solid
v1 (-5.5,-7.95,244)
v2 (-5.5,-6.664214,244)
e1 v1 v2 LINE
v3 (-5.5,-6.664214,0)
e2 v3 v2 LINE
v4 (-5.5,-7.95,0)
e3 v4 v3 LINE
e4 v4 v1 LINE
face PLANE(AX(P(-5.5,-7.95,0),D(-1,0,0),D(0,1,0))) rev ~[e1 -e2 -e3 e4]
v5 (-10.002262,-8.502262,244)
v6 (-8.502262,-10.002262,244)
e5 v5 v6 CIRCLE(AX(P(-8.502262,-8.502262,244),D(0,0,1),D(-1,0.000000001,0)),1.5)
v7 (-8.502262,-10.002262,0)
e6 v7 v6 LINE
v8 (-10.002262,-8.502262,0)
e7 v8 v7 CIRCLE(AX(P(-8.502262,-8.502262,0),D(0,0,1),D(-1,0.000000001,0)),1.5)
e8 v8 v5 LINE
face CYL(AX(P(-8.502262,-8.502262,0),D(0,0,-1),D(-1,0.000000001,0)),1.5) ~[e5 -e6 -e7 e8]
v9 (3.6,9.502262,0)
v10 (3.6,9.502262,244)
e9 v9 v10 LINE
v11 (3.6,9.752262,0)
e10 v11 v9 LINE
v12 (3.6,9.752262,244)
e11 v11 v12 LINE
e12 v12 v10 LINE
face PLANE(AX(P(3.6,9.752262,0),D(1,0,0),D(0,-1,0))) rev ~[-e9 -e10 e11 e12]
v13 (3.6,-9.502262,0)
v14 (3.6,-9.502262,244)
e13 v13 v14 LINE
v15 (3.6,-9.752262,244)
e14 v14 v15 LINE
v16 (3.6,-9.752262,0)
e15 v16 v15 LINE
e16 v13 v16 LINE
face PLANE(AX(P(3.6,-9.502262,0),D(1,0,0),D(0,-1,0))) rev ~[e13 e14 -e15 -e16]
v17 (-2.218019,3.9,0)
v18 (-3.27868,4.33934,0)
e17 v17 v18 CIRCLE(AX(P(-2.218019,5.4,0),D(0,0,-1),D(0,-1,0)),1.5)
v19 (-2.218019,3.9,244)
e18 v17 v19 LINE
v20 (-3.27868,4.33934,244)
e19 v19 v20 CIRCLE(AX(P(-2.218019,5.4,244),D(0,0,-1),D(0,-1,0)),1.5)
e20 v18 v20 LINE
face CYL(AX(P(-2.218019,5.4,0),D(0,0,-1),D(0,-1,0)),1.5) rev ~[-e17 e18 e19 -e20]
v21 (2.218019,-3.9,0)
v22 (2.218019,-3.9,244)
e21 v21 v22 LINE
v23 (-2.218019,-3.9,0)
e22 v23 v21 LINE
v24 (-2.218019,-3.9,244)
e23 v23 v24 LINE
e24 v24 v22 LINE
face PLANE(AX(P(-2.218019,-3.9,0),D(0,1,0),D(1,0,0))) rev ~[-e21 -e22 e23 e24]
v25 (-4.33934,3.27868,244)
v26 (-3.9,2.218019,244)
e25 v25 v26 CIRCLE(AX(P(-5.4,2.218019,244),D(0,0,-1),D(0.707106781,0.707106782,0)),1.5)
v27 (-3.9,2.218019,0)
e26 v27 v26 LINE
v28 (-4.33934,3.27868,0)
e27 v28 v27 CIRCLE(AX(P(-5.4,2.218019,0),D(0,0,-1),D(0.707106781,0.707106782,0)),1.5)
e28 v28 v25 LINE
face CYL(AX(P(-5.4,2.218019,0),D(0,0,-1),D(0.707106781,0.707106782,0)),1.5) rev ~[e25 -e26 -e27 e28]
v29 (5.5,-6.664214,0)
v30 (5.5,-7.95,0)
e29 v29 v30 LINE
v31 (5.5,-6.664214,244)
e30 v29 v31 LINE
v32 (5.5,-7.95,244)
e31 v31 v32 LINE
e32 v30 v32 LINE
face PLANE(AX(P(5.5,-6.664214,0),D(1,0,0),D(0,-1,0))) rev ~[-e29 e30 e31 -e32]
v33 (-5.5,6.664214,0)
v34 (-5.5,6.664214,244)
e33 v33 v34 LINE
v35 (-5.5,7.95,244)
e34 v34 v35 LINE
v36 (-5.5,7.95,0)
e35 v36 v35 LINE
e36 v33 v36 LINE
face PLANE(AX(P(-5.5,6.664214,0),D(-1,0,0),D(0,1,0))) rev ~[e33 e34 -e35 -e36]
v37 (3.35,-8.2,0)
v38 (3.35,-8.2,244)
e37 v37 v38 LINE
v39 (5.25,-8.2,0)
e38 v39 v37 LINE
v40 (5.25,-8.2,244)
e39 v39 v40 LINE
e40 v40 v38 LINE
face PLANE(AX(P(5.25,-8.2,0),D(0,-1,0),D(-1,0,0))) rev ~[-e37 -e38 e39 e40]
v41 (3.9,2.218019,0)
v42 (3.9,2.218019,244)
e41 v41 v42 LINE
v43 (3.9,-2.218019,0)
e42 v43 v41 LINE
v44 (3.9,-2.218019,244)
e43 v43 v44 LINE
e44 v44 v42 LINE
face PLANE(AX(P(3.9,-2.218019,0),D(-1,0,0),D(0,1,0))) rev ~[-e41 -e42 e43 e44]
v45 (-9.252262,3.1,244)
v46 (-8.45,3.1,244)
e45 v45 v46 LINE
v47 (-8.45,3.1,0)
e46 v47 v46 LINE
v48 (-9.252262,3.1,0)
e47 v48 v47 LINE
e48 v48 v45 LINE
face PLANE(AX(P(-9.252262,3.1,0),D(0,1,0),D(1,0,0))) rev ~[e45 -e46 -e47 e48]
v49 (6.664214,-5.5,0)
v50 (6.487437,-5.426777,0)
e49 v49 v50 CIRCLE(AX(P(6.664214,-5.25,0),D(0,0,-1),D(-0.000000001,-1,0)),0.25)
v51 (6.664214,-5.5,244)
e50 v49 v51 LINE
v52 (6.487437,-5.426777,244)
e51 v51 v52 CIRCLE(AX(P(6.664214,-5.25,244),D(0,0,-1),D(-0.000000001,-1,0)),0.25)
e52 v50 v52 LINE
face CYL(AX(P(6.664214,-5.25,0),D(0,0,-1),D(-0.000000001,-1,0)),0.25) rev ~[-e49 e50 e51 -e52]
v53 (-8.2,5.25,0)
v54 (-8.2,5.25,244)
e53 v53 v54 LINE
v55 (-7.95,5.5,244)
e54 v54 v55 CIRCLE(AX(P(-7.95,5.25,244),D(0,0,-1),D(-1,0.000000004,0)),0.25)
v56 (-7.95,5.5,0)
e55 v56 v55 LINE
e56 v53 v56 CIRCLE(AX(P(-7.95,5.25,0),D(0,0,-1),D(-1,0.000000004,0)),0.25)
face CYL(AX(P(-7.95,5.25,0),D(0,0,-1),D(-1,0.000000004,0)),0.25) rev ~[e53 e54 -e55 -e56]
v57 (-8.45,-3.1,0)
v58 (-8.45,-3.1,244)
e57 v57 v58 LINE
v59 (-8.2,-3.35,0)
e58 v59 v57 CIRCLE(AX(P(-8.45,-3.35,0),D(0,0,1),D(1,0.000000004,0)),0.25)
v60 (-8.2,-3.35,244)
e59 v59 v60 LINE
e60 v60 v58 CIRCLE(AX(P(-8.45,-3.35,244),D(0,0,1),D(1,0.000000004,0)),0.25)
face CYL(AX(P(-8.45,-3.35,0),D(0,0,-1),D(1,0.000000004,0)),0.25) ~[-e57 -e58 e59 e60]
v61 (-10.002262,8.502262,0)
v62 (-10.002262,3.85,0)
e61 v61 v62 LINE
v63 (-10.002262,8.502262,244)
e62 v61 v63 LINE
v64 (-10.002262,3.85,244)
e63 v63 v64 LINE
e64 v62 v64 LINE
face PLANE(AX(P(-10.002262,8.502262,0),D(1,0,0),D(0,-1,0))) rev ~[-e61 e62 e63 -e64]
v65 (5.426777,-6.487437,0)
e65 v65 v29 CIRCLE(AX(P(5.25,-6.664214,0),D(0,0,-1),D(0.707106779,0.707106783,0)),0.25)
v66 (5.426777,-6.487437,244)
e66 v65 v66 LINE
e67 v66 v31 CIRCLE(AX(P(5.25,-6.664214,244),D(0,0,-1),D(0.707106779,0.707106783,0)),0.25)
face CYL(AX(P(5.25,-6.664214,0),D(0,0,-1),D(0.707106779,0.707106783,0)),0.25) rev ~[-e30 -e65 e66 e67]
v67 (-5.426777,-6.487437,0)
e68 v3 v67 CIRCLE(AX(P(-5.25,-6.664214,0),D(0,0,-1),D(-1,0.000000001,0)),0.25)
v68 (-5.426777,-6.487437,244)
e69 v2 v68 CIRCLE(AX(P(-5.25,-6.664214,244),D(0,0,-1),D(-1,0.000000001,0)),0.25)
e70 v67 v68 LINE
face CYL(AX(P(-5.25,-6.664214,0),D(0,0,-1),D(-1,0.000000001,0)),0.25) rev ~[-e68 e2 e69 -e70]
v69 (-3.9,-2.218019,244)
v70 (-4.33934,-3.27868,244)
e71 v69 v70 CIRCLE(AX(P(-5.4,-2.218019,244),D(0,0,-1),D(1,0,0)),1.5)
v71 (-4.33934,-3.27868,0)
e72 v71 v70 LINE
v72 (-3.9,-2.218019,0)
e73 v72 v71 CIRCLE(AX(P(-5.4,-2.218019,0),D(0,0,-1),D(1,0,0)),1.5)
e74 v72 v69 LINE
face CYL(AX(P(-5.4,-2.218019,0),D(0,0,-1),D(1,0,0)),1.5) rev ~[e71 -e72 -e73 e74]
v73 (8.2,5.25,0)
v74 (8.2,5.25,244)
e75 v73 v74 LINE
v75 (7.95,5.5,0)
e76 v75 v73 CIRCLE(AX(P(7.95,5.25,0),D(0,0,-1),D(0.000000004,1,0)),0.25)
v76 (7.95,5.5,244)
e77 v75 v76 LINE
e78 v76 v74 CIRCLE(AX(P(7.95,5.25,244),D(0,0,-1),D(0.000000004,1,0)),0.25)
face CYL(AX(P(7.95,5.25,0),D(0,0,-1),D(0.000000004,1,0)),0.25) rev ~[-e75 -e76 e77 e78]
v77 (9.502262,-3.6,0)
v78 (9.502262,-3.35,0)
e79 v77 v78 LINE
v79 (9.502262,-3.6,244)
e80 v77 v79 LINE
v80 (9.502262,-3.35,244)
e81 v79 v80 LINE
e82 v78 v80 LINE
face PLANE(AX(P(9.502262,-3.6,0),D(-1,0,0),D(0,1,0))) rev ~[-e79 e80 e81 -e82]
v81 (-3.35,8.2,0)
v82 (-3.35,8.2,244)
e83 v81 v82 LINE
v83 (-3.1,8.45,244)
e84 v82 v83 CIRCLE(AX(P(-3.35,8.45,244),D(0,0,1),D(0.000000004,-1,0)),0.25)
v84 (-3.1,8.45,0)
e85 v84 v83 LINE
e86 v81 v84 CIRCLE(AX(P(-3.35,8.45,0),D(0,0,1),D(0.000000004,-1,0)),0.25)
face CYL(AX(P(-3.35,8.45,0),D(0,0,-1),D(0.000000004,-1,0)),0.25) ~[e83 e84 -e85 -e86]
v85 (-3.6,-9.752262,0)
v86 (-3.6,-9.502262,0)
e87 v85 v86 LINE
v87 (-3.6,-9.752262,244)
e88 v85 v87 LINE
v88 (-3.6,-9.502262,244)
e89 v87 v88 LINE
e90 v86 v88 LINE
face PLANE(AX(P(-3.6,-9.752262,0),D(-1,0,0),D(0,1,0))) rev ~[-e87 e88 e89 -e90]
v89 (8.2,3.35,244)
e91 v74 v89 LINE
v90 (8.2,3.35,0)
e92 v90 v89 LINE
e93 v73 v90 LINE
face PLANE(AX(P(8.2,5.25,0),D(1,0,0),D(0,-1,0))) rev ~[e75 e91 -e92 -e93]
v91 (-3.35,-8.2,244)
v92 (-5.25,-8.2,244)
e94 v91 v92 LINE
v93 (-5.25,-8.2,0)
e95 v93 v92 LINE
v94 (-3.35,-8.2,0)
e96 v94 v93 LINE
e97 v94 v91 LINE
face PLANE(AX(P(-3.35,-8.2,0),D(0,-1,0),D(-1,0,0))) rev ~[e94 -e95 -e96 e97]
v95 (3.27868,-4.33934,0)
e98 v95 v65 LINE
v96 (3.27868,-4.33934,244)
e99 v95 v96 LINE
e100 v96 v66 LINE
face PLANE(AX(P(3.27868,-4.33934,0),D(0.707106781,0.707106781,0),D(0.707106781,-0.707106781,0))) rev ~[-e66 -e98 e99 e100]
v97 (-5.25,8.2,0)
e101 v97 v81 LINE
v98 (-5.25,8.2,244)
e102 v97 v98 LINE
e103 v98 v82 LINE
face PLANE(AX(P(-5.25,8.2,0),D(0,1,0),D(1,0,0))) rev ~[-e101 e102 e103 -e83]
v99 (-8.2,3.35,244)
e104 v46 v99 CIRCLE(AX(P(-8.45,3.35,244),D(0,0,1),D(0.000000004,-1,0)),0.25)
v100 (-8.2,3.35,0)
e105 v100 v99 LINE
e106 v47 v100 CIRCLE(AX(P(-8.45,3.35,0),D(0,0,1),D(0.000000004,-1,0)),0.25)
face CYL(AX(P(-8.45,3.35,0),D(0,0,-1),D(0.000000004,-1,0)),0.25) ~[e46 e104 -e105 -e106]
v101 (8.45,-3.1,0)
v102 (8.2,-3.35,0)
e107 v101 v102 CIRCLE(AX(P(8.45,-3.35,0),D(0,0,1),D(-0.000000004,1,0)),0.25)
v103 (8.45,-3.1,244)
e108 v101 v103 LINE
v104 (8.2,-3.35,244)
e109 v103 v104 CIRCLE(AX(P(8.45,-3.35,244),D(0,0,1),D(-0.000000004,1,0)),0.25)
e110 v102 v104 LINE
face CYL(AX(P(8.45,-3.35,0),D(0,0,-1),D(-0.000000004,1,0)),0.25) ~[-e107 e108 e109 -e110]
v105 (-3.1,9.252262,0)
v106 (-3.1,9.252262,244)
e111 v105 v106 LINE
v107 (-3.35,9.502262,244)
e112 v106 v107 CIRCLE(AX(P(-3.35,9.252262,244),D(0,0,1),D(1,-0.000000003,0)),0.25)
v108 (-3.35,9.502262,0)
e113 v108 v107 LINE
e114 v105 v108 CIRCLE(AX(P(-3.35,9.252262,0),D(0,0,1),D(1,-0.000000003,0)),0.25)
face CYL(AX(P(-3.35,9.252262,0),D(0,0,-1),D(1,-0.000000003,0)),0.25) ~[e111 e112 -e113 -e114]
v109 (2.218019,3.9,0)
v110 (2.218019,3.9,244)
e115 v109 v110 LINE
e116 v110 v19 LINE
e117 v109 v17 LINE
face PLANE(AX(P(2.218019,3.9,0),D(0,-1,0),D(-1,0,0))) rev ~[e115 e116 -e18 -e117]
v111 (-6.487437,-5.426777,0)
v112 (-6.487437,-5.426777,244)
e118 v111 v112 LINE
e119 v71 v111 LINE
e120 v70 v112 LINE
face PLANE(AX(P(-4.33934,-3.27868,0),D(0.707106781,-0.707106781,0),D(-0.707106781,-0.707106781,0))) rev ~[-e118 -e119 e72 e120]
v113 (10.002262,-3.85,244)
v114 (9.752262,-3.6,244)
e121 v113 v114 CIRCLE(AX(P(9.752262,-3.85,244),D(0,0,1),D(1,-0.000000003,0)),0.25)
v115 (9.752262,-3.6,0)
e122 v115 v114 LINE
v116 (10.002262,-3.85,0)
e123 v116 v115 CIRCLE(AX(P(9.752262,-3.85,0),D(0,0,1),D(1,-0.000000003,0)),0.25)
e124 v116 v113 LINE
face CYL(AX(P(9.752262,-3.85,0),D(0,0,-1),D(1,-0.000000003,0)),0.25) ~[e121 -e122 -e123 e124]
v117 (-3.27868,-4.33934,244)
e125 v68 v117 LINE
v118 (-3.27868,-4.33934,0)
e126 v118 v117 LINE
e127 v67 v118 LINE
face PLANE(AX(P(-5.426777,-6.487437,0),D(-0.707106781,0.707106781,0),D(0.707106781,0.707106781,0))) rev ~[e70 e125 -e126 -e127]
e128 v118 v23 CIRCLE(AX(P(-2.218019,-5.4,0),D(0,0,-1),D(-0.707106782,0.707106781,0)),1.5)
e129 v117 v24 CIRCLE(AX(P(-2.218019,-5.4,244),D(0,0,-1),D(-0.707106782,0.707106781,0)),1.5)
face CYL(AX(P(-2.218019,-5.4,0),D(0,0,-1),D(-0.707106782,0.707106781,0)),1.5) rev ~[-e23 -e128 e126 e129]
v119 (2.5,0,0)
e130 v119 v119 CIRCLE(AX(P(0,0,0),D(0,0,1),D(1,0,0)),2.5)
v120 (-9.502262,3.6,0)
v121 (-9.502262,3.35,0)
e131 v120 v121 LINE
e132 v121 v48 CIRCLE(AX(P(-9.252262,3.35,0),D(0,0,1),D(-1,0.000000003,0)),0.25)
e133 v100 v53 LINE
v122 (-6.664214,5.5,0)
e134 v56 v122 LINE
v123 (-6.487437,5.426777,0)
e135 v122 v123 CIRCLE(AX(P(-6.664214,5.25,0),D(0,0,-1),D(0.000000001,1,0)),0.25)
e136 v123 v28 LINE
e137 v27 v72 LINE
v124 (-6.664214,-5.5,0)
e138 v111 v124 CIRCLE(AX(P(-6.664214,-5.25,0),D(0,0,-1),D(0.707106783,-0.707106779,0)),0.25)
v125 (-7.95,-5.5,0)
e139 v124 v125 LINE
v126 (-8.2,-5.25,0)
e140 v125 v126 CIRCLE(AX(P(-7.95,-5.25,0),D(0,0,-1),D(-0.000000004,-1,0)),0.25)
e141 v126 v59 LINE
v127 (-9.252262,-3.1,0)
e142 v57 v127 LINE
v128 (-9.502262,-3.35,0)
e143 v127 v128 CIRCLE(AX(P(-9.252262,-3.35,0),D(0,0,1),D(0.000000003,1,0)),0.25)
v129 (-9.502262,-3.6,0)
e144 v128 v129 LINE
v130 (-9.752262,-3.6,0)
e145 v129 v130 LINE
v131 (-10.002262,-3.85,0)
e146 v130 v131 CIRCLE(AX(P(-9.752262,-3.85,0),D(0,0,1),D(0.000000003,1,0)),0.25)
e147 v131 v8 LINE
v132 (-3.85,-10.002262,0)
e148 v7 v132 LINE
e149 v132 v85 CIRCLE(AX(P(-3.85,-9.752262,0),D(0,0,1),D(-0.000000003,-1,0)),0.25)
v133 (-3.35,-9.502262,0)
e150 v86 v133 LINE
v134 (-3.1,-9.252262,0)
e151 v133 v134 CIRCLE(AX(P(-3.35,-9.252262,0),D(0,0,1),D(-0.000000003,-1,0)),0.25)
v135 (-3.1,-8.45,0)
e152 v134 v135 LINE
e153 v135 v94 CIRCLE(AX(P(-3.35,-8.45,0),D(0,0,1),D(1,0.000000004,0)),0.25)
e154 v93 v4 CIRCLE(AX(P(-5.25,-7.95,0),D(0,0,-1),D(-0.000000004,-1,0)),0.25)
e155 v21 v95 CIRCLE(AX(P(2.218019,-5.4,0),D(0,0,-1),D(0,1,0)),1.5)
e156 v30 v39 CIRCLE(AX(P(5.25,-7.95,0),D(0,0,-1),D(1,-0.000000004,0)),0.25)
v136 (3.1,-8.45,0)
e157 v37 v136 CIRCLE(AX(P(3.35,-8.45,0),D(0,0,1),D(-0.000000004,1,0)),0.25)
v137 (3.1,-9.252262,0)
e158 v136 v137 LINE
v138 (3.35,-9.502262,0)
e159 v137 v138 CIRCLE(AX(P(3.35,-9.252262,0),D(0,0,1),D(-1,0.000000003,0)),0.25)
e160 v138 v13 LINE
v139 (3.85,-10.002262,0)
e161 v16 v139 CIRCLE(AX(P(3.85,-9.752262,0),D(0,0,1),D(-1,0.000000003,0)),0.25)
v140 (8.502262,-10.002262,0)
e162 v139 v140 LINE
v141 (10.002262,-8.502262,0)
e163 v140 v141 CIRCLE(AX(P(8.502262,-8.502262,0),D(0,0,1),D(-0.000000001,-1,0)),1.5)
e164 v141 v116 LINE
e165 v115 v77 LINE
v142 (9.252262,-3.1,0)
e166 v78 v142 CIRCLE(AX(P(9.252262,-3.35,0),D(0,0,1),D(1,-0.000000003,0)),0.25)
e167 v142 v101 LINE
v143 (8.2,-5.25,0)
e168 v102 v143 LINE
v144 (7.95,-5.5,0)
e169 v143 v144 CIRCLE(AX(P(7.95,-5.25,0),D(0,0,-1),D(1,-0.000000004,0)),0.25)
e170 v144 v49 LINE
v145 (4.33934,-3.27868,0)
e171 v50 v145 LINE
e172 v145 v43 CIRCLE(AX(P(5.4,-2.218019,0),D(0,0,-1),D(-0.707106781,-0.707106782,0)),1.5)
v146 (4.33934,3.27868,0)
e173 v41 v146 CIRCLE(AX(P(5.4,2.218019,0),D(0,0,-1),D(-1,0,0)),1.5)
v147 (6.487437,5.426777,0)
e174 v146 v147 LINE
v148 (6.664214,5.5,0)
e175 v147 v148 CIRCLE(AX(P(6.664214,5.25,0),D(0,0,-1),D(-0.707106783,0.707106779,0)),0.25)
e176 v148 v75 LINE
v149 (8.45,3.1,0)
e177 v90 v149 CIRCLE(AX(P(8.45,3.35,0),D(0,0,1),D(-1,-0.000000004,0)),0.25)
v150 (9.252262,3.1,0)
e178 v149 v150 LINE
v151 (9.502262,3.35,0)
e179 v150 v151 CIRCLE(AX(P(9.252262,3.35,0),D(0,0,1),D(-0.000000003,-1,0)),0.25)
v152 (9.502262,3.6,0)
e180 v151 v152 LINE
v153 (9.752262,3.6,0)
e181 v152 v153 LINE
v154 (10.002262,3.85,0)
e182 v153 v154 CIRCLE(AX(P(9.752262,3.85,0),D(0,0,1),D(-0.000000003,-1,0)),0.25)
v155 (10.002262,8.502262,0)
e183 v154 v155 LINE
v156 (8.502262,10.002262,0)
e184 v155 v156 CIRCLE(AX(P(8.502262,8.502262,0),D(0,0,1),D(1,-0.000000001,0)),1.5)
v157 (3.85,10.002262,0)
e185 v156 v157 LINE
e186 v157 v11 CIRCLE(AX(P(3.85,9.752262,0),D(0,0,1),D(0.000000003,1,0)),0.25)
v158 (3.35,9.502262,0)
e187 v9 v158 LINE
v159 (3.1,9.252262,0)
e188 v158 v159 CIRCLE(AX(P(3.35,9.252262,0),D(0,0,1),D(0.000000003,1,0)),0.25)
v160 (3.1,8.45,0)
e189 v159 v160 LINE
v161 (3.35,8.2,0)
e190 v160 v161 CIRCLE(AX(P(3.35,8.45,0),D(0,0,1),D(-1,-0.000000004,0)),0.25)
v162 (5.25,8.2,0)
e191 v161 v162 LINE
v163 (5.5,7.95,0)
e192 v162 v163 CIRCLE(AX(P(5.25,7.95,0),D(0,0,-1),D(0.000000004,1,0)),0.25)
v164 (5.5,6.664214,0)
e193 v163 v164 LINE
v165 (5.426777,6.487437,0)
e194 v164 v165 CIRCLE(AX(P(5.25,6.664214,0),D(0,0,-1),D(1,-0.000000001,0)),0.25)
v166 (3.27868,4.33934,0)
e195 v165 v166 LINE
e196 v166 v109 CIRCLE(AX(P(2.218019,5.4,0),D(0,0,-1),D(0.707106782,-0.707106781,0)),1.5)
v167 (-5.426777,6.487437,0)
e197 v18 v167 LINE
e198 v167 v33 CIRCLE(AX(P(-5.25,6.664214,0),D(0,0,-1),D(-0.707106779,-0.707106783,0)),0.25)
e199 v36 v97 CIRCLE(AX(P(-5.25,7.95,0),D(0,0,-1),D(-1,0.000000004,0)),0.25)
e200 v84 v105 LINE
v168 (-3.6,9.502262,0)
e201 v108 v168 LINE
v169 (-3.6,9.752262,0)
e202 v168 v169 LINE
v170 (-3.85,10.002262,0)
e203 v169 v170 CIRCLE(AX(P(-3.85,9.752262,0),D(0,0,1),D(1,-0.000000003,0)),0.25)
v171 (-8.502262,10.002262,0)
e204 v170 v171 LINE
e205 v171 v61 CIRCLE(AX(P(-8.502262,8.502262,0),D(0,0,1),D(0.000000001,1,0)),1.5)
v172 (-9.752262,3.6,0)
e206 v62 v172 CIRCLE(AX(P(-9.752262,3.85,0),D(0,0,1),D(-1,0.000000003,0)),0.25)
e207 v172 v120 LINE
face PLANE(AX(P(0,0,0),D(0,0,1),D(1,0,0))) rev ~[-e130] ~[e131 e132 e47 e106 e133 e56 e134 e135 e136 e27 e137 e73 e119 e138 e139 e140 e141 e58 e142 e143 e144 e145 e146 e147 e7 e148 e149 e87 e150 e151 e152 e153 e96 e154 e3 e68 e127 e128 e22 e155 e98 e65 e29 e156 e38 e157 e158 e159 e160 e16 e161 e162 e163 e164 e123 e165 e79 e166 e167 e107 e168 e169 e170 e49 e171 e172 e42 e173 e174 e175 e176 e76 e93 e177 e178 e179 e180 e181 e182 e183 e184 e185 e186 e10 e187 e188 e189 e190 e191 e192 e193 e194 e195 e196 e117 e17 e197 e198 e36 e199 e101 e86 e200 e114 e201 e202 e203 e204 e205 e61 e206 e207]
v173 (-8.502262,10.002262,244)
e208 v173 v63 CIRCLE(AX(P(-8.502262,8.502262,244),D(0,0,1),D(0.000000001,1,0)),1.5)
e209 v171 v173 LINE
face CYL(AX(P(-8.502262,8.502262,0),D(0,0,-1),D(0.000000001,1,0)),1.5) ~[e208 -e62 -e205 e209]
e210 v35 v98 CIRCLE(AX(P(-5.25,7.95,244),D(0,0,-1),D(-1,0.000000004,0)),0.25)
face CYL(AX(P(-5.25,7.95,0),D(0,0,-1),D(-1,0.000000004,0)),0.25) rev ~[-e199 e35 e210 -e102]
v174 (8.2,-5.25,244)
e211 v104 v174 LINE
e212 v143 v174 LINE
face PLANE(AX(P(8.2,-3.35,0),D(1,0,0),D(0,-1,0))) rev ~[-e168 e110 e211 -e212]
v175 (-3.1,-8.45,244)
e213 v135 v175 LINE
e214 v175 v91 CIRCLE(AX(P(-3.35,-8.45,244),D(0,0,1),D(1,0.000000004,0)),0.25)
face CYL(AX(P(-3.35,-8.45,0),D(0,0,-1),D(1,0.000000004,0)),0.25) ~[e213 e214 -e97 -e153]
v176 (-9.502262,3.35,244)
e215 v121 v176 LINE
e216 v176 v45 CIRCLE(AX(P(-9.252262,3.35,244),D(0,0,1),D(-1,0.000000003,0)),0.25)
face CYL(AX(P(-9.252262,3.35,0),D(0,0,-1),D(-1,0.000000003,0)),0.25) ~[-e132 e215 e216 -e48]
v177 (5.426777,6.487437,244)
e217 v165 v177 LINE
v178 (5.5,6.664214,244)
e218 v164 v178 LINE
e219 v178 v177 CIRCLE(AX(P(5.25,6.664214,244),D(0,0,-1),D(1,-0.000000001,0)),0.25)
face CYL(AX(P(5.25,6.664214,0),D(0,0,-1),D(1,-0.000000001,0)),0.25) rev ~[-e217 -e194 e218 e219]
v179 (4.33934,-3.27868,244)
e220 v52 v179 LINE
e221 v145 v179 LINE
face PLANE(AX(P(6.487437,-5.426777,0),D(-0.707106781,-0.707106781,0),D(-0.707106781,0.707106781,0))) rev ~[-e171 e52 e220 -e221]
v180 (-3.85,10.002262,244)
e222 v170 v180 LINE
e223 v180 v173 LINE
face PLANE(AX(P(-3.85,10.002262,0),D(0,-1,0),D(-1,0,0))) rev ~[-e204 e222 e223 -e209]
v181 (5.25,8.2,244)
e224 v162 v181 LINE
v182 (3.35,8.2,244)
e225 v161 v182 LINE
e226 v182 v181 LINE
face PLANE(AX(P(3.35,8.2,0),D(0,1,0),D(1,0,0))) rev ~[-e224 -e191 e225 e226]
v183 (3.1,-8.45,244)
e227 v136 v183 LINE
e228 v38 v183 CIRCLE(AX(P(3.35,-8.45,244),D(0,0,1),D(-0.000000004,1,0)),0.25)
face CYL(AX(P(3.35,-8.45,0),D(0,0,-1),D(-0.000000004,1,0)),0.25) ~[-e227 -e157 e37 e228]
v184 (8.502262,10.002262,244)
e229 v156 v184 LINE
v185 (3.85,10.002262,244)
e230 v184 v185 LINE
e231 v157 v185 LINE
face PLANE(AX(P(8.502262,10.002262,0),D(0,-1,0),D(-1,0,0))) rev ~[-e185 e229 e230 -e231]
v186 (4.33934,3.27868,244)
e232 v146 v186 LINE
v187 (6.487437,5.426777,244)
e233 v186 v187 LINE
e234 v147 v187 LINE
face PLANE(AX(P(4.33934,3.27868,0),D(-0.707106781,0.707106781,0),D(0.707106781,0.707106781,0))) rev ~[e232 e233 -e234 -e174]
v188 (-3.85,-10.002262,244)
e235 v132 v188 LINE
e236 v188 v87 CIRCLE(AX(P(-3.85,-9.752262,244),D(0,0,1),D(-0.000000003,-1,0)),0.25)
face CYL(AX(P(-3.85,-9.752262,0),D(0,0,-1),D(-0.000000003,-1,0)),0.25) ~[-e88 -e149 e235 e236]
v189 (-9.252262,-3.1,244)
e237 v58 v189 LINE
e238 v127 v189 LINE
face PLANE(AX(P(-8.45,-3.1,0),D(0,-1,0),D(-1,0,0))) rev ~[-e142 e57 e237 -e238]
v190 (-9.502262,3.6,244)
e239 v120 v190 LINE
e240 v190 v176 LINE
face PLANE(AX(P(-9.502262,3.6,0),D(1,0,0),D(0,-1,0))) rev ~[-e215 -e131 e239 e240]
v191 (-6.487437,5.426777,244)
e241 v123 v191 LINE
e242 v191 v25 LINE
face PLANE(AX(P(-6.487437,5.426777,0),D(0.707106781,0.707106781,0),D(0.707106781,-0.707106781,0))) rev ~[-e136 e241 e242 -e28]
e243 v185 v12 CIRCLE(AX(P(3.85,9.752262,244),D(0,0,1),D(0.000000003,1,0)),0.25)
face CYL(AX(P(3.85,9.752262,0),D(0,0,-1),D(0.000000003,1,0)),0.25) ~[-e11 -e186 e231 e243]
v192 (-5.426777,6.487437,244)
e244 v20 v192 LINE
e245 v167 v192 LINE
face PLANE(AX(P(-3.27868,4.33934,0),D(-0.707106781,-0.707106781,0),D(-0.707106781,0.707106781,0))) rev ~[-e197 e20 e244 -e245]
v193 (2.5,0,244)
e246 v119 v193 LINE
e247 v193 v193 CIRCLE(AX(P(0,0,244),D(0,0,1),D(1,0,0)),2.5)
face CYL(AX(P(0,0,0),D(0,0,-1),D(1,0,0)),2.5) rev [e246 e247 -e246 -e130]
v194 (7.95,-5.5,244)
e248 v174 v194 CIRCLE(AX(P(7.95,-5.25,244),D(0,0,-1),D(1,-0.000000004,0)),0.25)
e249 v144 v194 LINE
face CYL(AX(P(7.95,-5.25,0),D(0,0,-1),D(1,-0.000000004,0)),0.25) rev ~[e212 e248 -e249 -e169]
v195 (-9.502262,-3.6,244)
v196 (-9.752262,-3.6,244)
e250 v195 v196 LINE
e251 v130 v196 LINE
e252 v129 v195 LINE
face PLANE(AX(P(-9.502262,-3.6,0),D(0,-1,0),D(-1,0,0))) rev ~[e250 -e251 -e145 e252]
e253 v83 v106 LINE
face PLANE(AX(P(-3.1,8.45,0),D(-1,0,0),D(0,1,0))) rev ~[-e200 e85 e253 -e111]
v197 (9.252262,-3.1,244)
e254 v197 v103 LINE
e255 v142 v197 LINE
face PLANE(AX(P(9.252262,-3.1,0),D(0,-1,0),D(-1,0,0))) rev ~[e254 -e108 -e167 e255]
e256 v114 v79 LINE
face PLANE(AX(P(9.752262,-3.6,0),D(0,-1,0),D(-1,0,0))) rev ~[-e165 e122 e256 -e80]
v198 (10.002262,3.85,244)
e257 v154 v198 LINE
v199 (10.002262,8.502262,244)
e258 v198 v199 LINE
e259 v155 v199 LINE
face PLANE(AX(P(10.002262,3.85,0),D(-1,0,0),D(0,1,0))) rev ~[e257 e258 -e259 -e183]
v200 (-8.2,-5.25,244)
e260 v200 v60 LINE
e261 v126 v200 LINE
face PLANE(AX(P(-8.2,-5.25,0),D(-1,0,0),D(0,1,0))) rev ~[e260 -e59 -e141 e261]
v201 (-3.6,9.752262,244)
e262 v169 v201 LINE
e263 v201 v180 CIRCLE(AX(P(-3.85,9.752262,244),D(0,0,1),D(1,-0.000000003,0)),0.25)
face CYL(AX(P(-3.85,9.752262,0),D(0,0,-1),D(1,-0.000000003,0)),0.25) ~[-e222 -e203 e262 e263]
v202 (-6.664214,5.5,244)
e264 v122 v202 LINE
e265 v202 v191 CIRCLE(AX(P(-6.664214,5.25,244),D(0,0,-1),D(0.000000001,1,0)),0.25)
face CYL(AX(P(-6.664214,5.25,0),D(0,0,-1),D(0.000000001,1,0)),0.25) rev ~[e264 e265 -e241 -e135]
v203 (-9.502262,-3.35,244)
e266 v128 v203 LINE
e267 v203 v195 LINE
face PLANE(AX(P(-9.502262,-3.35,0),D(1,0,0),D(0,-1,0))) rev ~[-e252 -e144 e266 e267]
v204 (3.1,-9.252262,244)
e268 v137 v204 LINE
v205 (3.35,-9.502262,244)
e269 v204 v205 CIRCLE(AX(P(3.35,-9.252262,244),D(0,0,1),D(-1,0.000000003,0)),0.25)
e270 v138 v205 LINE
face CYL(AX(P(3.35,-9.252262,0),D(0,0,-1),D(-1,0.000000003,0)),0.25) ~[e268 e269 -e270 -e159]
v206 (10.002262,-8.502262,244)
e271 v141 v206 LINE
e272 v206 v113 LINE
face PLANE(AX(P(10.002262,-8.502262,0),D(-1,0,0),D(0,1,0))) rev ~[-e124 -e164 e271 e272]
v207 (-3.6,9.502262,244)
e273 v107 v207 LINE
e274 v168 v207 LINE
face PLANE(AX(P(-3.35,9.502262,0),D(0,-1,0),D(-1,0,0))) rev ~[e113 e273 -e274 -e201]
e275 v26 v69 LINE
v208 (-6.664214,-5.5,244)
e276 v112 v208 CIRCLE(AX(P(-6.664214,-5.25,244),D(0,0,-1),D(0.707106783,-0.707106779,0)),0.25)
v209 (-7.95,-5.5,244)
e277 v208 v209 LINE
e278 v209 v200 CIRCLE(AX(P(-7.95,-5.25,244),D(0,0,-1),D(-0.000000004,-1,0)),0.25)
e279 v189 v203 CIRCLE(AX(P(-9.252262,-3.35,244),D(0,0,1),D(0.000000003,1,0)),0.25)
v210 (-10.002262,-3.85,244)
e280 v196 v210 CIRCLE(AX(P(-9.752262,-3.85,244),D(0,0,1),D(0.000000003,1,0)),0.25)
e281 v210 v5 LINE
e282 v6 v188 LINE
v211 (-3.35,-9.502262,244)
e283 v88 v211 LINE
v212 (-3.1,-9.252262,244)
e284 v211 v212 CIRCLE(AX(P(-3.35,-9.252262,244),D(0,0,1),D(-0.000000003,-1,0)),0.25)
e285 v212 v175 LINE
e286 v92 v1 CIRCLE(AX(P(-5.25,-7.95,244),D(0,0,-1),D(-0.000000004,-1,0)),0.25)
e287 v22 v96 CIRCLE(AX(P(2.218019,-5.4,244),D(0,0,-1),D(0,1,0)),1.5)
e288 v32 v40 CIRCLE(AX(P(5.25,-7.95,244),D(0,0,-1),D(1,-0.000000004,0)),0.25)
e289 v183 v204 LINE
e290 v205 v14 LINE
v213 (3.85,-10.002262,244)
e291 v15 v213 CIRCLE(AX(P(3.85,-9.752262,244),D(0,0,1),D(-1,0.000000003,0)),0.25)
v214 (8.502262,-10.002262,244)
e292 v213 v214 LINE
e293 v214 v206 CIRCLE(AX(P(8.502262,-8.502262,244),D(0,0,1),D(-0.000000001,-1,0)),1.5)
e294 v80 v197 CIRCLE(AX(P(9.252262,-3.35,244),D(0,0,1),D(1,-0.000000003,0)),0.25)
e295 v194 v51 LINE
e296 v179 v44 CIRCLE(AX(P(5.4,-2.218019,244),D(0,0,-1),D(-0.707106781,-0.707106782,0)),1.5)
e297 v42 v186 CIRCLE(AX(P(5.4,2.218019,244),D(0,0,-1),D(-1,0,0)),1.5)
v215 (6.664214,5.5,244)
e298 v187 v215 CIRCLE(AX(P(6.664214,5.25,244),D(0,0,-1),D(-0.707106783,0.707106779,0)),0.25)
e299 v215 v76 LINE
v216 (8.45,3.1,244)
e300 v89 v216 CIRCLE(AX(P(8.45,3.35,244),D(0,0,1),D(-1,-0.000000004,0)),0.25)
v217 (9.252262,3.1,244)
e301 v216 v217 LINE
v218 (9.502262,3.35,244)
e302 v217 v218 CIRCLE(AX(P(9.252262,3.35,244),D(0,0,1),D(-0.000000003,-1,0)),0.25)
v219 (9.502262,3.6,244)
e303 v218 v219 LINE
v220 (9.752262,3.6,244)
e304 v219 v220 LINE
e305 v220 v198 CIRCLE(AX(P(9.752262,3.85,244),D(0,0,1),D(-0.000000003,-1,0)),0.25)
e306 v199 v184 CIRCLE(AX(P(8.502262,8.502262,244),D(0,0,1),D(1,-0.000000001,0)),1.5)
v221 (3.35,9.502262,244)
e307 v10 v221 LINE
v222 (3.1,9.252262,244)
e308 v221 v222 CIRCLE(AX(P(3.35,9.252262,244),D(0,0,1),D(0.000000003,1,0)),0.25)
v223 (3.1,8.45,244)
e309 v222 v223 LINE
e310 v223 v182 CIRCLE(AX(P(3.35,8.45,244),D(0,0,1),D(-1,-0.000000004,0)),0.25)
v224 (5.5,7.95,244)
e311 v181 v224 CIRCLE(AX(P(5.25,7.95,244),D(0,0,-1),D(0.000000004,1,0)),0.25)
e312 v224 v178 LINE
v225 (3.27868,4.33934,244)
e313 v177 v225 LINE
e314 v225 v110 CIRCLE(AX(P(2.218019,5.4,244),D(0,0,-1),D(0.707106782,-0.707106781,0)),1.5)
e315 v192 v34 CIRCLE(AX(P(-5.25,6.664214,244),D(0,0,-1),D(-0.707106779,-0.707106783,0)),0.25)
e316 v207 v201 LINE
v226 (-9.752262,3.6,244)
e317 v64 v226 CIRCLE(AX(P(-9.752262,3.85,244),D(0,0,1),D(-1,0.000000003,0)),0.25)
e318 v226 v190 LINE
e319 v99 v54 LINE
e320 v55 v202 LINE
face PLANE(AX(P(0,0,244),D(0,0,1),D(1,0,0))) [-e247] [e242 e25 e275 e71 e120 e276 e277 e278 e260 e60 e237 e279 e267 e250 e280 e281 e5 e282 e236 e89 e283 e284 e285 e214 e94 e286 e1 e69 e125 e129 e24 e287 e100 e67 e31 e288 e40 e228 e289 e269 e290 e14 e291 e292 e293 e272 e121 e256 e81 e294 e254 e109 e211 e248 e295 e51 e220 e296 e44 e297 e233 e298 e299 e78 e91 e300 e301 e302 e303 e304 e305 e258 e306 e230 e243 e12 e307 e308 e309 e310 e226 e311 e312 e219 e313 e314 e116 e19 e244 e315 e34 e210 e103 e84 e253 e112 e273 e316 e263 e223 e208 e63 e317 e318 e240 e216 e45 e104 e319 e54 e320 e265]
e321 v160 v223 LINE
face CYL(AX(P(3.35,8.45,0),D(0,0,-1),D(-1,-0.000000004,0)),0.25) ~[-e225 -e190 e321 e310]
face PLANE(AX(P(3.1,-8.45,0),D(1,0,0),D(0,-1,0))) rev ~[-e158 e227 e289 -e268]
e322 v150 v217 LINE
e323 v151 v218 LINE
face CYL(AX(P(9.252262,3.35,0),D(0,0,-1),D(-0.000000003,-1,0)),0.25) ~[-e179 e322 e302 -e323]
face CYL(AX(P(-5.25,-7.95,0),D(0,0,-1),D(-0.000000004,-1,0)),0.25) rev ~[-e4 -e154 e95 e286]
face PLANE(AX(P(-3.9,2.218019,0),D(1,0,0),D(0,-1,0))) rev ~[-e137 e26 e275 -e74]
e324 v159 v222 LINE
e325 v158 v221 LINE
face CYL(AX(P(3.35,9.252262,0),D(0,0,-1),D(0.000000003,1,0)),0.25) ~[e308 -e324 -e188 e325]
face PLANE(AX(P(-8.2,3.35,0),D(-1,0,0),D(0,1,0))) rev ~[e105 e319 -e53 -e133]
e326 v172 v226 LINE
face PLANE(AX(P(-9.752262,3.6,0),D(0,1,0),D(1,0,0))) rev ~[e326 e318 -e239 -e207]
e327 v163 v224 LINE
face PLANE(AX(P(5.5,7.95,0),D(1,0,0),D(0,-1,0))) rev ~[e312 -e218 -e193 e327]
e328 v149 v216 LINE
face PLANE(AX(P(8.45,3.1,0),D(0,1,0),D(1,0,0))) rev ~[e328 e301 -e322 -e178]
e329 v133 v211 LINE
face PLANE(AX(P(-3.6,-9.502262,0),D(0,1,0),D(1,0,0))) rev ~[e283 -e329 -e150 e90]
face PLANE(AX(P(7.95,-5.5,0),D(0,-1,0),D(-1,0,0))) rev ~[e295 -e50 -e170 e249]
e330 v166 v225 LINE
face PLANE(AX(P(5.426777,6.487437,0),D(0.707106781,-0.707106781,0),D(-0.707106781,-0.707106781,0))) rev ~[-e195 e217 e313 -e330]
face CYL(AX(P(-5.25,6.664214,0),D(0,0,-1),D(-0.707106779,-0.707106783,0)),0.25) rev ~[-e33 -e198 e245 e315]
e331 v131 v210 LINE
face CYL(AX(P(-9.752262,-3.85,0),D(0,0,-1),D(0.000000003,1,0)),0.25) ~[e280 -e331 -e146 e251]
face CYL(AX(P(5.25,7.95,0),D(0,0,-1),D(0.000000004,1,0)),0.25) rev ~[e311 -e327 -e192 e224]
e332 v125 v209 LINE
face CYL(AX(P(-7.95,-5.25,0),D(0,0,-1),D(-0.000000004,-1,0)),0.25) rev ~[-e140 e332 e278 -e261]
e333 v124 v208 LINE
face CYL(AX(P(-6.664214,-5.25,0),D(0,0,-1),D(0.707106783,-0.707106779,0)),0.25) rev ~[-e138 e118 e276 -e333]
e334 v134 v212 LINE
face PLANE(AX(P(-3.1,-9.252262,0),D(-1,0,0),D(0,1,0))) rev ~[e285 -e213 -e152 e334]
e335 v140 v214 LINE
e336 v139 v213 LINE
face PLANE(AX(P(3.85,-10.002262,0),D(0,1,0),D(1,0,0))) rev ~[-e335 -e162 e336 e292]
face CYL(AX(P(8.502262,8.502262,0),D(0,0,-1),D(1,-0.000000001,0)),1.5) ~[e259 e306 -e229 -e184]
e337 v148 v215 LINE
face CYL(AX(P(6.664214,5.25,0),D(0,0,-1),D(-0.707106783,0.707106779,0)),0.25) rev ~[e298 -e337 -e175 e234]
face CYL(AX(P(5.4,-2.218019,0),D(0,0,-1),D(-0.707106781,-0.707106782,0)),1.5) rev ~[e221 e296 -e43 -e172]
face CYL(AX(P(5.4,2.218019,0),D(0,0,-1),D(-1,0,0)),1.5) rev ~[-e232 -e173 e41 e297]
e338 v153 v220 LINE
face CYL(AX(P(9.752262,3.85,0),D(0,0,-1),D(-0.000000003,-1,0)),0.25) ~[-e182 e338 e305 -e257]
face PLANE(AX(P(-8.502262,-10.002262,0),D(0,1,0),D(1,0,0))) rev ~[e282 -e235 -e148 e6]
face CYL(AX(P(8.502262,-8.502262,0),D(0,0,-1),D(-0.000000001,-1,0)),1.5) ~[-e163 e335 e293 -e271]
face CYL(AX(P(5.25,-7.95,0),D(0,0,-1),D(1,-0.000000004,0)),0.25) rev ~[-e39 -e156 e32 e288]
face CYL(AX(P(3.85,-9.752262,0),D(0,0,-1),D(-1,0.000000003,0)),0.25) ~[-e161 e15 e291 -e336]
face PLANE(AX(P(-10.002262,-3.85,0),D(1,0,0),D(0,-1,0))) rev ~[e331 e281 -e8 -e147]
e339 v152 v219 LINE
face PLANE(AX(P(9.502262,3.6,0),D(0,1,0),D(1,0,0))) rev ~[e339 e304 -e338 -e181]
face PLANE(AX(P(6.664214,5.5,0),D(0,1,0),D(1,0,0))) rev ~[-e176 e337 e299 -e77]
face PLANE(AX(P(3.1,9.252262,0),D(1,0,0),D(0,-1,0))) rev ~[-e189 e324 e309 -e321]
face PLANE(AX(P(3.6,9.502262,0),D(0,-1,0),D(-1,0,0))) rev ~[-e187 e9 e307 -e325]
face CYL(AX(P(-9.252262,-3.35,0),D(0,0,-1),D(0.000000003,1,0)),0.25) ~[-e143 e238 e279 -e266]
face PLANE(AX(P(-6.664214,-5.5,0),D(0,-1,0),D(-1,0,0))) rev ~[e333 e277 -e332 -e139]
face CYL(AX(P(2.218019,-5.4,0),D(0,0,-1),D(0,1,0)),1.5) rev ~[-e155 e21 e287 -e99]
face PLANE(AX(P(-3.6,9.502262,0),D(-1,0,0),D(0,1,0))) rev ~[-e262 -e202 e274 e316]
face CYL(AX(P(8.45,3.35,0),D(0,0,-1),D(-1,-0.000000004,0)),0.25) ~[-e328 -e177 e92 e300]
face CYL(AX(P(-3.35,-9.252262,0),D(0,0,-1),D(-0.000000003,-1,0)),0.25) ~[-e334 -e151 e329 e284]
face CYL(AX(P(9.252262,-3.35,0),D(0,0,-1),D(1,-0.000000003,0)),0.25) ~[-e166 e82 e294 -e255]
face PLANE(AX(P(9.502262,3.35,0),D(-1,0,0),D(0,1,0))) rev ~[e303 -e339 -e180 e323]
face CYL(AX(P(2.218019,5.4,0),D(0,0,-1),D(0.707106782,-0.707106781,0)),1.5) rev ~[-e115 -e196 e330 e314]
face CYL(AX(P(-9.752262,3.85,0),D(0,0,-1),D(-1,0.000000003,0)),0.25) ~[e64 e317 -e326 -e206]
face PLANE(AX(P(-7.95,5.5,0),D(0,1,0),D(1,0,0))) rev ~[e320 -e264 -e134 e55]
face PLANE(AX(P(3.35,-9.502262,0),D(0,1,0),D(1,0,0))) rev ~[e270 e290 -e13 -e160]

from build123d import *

# Parameters (mm, degrees)
SKETCH_1_R      = 2.5
EXTRUDE_1_DEPTH = 244


with BuildPart() as part:
    # 草图1 → 凸台-拉伸1 (new body)
    with BuildSketch(Plane.XY):
        with BuildLine():
            Line((-8.502261885, -10.002261885), (-3.85, -10.002261885))
            ThreePointArc((-3.85, -10.002261885), (-3.673223305, -9.929038581), (-3.6, -9.752261885))
            Line((-3.6, -9.752261885), (-3.6, -9.502261885))
            Line((-3.6, -9.502261885), (-3.35, -9.502261885))
            ThreePointArc((-3.35, -9.502261885), (-3.173223305, -9.429038581), (-3.1, -9.252261885))
            Line((-3.1, -9.252261885), (-3.1, -8.45))
            ThreePointArc((-3.1, -8.45), (-3.173223305, -8.273223305), (-3.35, -8.2))
            Line((-3.35, -8.2), (-5.25, -8.2))
            ThreePointArc((-5.25, -8.2), (-5.426776695, -8.126776695), (-5.5, -7.95))
            Line((-5.5, -7.95), (-5.5, -6.664213562))
            ThreePointArc((-5.5, -6.664213562), (-5.480969883, -6.568542704), (-5.426776695, -6.487436867))
            Line((-5.426776695, -6.487436867), (-3.278679656, -4.339339828))
            ThreePointArc((-3.278679656, -4.339339828), (-2.792044633, -4.014180701), (-2.218019485, -3.9))
            Line((-2.218019485, -3.9), (2.218019485, -3.9))
            ThreePointArc((2.218019485, -3.9), (2.792044633, -4.014180701), (3.278679656, -4.339339828))
            Line((3.278679656, -4.339339828), (5.426776695, -6.487436867))
            ThreePointArc((5.426776695, -6.487436867), (5.480969883, -6.568542704), (5.5, -6.664213562))
            Line((5.5, -6.664213562), (5.5, -7.95))
            ThreePointArc((5.5, -7.95), (5.426776695, -8.126776695), (5.25, -8.2))
            Line((5.25, -8.2), (3.35, -8.2))
            ThreePointArc((3.35, -8.2), (3.173223305, -8.273223305), (3.1, -8.45))
            Line((3.1, -8.45), (3.1, -9.252261885))
            ThreePointArc((3.1, -9.252261885), (3.173223305, -9.429038581), (3.35, -9.502261885))
            Line((3.35, -9.502261885), (3.6, -9.502261885))
            Line((3.6, -9.502261885), (3.6, -9.752261885))
            ThreePointArc((3.6, -9.752261885), (3.673223305, -9.929038581), (3.85, -10.002261885))
            Line((3.85, -10.002261885), (8.502261885, -10.002261885))
            ThreePointArc((8.502261885, -10.002261885), (9.562922057, -9.562922057), (10.002261885, -8.502261885))
            Line((10.002261885, -8.502261885), (10.002261885, -3.85))
            ThreePointArc((10.002261885, -3.85), (9.929038581, -3.673223305), (9.752261885, -3.6))
            Line((9.752261885, -3.6), (9.502261885, -3.6))
            Line((9.502261885, -3.6), (9.502261885, -3.35))
            ThreePointArc((9.502261885, -3.35), (9.429038581, -3.173223305), (9.252261885, -3.1))
            Line((9.252261885, -3.1), (8.45, -3.1))
            ThreePointArc((8.45, -3.1), (8.273223305, -3.173223305), (8.2, -3.35))
            Line((8.2, -3.35), (8.2, -5.25))
            ThreePointArc((8.2, -5.25), (8.126776695, -5.426776695), (7.95, -5.5))
            Line((7.95, -5.5), (6.664213562, -5.5))
            ThreePointArc((6.664213562, -5.5), (6.568542704, -5.480969883), (6.487436867, -5.426776695))
            Line((6.487436867, -5.426776695), (4.339339828, -3.278679656))
            ThreePointArc((4.339339828, -3.278679656), (4.014180701, -2.792044633), (3.9, -2.218019485))
            Line((3.9, -2.218019485), (3.9, 2.218019485))
            ThreePointArc((3.9, 2.218019485), (4.014180701, 2.792044633), (4.339339828, 3.278679656))
            Line((4.339339828, 3.278679656), (6.487436867, 5.426776695))
            ThreePointArc((6.487436867, 5.426776695), (6.568542704, 5.480969883), (6.664213562, 5.5))
            Line((6.664213562, 5.5), (7.95, 5.5))
            ThreePointArc((7.95, 5.5), (8.126776695, 5.426776695), (8.2, 5.25))
            Line((8.2, 5.25), (8.2, 3.35))
            ThreePointArc((8.2, 3.35), (8.273223305, 3.173223305), (8.45, 3.1))
            Line((8.45, 3.1), (9.252261885, 3.1))
            ThreePointArc((9.252261885, 3.1), (9.429038581, 3.173223305), (9.502261885, 3.35))
            Line((9.502261885, 3.35), (9.502261885, 3.6))
            Line((9.502261885, 3.6), (9.752261885, 3.6))
            ThreePointArc((9.752261885, 3.6), (9.929038581, 3.673223305), (10.002261885, 3.85))
            Line((10.002261885, 3.85), (10.002261885, 8.502261885))
            ThreePointArc((10.002261885, 8.502261885), (9.562922057, 9.562922057), (8.502261885, 10.002261885))
            Line((8.502261885, 10.002261885), (3.85, 10.002261885))
            ThreePointArc((3.85, 10.002261885), (3.673223305, 9.929038581), (3.6, 9.752261885))
            Line((3.6, 9.752261885), (3.6, 9.502261885))
            Line((3.6, 9.502261885), (3.35, 9.502261885))
            ThreePointArc((3.35, 9.502261885), (3.173223305, 9.429038581), (3.1, 9.252261885))
            Line((3.1, 9.252261885), (3.1, 8.45))
            ThreePointArc((3.1, 8.45), (3.173223305, 8.273223305), (3.35, 8.2))
            Line((3.35, 8.2), (5.25, 8.2))
            ThreePointArc((5.25, 8.2), (5.426776695, 8.126776695), (5.5, 7.95))
            Line((5.5, 7.95), (5.5, 6.664213562))
            ThreePointArc((5.5, 6.664213562), (5.480969883, 6.568542704), (5.426776695, 6.487436867))
            Line((5.426776695, 6.487436867), (3.278679656, 4.339339828))
            ThreePointArc((3.278679656, 4.339339828), (2.792044633, 4.014180701), (2.218019485, 3.9))
            Line((2.218019485, 3.9), (-2.218019485, 3.9))
            ThreePointArc((-2.218019485, 3.9), (-2.792044633, 4.014180701), (-3.278679656, 4.339339828))
            Line((-3.278679656, 4.339339828), (-5.426776695, 6.487436867))
            ThreePointArc((-5.426776695, 6.487436867), (-5.480969883, 6.568542704), (-5.5, 6.664213562))
            Line((-5.5, 6.664213562), (-5.5, 7.95))
            ThreePointArc((-5.5, 7.95), (-5.426776695, 8.126776695), (-5.25, 8.2))
            Line((-5.25, 8.2), (-3.35, 8.2))
            ThreePointArc((-3.35, 8.2), (-3.173223305, 8.273223305), (-3.1, 8.45))
            Line((-3.1, 8.45), (-3.1, 9.252261885))
            ThreePointArc((-3.1, 9.252261885), (-3.173223305, 9.429038581), (-3.35, 9.502261885))
            Line((-3.35, 9.502261885), (-3.6, 9.502261885))
            Line((-3.6, 9.502261885), (-3.6, 9.752261885))
            ThreePointArc((-3.6, 9.752261885), (-3.673223305, 9.929038581), (-3.85, 10.002261885))
            Line((-3.85, 10.002261885), (-8.502261885, 10.002261885))
            ThreePointArc((-8.502261885, 10.002261885), (-9.562922057, 9.562922057), (-10.002261885, 8.502261885))
            Line((-10.002261885, 8.502261885), (-10.002261885, 3.85))
            ThreePointArc((-10.002261885, 3.85), (-9.929038581, 3.673223305), (-9.752261885, 3.6))
            Line((-9.752261885, 3.6), (-9.502261885, 3.6))
            Line((-9.502261885, 3.6), (-9.502261885, 3.35))
            ThreePointArc((-9.502261885, 3.35), (-9.429038581, 3.173223305), (-9.252261885, 3.1))
            Line((-9.252261885, 3.1), (-8.45, 3.1))
            ThreePointArc((-8.45, 3.1), (-8.273223305, 3.173223305), (-8.2, 3.35))
            Line((-8.2, 3.35), (-8.2, 5.25))
            ThreePointArc((-8.2, 5.25), (-8.126776695, 5.426776695), (-7.95, 5.5))
            Line((-7.95, 5.5), (-6.664213562, 5.5))
            ThreePointArc((-6.664213562, 5.5), (-6.568542704, 5.480969883), (-6.487436867, 5.426776695))
            Line((-6.487436867, 5.426776695), (-4.339339828, 3.278679656))
            ThreePointArc((-4.339339828, 3.278679656), (-4.014180701, 2.792044633), (-3.9, 2.218019485))
            Line((-3.9, 2.218019485), (-3.9, -2.218019485))
            ThreePointArc((-3.9, -2.218019485), (-4.014180701, -2.792044633), (-4.339339828, -3.278679656))
            Line((-4.339339828, -3.278679656), (-6.487436867, -5.426776695))
            ThreePointArc((-6.487436867, -5.426776695), (-6.568542704, -5.480969883), (-6.664213562, -5.5))
            Line((-6.664213562, -5.5), (-7.95, -5.5))
            ThreePointArc((-7.95, -5.5), (-8.126776695, -5.426776695), (-8.2, -5.25))
            Line((-8.2, -5.25), (-8.2, -3.35))
            ThreePointArc((-8.2, -3.35), (-8.273223305, -3.173223305), (-8.45, -3.1))
            Line((-8.45, -3.1), (-9.252261885, -3.1))
            ThreePointArc((-9.252261885, -3.1), (-9.429038581, -3.173223305), (-9.502261885, -3.35))
            Line((-9.502261885, -3.35), (-9.502261885, -3.6))
            Line((-9.502261885, -3.6), (-9.752261885, -3.6))
            ThreePointArc((-9.752261885, -3.6), (-9.929038581, -3.673223305), (-10.002261885, -3.85))
            Line((-10.002261885, -3.85), (-10.002261885, -8.502261885))
            ThreePointArc((-10.002261885, -8.502261885), (-9.562922057, -9.562922057), (-8.502261885, -10.002261885))
        make_face()
        Circle(SKETCH_1_R, mode=Mode.SUBTRACT)
    extrude(amount=EXTRUDE_1_DEPTH)


solid = part.part
